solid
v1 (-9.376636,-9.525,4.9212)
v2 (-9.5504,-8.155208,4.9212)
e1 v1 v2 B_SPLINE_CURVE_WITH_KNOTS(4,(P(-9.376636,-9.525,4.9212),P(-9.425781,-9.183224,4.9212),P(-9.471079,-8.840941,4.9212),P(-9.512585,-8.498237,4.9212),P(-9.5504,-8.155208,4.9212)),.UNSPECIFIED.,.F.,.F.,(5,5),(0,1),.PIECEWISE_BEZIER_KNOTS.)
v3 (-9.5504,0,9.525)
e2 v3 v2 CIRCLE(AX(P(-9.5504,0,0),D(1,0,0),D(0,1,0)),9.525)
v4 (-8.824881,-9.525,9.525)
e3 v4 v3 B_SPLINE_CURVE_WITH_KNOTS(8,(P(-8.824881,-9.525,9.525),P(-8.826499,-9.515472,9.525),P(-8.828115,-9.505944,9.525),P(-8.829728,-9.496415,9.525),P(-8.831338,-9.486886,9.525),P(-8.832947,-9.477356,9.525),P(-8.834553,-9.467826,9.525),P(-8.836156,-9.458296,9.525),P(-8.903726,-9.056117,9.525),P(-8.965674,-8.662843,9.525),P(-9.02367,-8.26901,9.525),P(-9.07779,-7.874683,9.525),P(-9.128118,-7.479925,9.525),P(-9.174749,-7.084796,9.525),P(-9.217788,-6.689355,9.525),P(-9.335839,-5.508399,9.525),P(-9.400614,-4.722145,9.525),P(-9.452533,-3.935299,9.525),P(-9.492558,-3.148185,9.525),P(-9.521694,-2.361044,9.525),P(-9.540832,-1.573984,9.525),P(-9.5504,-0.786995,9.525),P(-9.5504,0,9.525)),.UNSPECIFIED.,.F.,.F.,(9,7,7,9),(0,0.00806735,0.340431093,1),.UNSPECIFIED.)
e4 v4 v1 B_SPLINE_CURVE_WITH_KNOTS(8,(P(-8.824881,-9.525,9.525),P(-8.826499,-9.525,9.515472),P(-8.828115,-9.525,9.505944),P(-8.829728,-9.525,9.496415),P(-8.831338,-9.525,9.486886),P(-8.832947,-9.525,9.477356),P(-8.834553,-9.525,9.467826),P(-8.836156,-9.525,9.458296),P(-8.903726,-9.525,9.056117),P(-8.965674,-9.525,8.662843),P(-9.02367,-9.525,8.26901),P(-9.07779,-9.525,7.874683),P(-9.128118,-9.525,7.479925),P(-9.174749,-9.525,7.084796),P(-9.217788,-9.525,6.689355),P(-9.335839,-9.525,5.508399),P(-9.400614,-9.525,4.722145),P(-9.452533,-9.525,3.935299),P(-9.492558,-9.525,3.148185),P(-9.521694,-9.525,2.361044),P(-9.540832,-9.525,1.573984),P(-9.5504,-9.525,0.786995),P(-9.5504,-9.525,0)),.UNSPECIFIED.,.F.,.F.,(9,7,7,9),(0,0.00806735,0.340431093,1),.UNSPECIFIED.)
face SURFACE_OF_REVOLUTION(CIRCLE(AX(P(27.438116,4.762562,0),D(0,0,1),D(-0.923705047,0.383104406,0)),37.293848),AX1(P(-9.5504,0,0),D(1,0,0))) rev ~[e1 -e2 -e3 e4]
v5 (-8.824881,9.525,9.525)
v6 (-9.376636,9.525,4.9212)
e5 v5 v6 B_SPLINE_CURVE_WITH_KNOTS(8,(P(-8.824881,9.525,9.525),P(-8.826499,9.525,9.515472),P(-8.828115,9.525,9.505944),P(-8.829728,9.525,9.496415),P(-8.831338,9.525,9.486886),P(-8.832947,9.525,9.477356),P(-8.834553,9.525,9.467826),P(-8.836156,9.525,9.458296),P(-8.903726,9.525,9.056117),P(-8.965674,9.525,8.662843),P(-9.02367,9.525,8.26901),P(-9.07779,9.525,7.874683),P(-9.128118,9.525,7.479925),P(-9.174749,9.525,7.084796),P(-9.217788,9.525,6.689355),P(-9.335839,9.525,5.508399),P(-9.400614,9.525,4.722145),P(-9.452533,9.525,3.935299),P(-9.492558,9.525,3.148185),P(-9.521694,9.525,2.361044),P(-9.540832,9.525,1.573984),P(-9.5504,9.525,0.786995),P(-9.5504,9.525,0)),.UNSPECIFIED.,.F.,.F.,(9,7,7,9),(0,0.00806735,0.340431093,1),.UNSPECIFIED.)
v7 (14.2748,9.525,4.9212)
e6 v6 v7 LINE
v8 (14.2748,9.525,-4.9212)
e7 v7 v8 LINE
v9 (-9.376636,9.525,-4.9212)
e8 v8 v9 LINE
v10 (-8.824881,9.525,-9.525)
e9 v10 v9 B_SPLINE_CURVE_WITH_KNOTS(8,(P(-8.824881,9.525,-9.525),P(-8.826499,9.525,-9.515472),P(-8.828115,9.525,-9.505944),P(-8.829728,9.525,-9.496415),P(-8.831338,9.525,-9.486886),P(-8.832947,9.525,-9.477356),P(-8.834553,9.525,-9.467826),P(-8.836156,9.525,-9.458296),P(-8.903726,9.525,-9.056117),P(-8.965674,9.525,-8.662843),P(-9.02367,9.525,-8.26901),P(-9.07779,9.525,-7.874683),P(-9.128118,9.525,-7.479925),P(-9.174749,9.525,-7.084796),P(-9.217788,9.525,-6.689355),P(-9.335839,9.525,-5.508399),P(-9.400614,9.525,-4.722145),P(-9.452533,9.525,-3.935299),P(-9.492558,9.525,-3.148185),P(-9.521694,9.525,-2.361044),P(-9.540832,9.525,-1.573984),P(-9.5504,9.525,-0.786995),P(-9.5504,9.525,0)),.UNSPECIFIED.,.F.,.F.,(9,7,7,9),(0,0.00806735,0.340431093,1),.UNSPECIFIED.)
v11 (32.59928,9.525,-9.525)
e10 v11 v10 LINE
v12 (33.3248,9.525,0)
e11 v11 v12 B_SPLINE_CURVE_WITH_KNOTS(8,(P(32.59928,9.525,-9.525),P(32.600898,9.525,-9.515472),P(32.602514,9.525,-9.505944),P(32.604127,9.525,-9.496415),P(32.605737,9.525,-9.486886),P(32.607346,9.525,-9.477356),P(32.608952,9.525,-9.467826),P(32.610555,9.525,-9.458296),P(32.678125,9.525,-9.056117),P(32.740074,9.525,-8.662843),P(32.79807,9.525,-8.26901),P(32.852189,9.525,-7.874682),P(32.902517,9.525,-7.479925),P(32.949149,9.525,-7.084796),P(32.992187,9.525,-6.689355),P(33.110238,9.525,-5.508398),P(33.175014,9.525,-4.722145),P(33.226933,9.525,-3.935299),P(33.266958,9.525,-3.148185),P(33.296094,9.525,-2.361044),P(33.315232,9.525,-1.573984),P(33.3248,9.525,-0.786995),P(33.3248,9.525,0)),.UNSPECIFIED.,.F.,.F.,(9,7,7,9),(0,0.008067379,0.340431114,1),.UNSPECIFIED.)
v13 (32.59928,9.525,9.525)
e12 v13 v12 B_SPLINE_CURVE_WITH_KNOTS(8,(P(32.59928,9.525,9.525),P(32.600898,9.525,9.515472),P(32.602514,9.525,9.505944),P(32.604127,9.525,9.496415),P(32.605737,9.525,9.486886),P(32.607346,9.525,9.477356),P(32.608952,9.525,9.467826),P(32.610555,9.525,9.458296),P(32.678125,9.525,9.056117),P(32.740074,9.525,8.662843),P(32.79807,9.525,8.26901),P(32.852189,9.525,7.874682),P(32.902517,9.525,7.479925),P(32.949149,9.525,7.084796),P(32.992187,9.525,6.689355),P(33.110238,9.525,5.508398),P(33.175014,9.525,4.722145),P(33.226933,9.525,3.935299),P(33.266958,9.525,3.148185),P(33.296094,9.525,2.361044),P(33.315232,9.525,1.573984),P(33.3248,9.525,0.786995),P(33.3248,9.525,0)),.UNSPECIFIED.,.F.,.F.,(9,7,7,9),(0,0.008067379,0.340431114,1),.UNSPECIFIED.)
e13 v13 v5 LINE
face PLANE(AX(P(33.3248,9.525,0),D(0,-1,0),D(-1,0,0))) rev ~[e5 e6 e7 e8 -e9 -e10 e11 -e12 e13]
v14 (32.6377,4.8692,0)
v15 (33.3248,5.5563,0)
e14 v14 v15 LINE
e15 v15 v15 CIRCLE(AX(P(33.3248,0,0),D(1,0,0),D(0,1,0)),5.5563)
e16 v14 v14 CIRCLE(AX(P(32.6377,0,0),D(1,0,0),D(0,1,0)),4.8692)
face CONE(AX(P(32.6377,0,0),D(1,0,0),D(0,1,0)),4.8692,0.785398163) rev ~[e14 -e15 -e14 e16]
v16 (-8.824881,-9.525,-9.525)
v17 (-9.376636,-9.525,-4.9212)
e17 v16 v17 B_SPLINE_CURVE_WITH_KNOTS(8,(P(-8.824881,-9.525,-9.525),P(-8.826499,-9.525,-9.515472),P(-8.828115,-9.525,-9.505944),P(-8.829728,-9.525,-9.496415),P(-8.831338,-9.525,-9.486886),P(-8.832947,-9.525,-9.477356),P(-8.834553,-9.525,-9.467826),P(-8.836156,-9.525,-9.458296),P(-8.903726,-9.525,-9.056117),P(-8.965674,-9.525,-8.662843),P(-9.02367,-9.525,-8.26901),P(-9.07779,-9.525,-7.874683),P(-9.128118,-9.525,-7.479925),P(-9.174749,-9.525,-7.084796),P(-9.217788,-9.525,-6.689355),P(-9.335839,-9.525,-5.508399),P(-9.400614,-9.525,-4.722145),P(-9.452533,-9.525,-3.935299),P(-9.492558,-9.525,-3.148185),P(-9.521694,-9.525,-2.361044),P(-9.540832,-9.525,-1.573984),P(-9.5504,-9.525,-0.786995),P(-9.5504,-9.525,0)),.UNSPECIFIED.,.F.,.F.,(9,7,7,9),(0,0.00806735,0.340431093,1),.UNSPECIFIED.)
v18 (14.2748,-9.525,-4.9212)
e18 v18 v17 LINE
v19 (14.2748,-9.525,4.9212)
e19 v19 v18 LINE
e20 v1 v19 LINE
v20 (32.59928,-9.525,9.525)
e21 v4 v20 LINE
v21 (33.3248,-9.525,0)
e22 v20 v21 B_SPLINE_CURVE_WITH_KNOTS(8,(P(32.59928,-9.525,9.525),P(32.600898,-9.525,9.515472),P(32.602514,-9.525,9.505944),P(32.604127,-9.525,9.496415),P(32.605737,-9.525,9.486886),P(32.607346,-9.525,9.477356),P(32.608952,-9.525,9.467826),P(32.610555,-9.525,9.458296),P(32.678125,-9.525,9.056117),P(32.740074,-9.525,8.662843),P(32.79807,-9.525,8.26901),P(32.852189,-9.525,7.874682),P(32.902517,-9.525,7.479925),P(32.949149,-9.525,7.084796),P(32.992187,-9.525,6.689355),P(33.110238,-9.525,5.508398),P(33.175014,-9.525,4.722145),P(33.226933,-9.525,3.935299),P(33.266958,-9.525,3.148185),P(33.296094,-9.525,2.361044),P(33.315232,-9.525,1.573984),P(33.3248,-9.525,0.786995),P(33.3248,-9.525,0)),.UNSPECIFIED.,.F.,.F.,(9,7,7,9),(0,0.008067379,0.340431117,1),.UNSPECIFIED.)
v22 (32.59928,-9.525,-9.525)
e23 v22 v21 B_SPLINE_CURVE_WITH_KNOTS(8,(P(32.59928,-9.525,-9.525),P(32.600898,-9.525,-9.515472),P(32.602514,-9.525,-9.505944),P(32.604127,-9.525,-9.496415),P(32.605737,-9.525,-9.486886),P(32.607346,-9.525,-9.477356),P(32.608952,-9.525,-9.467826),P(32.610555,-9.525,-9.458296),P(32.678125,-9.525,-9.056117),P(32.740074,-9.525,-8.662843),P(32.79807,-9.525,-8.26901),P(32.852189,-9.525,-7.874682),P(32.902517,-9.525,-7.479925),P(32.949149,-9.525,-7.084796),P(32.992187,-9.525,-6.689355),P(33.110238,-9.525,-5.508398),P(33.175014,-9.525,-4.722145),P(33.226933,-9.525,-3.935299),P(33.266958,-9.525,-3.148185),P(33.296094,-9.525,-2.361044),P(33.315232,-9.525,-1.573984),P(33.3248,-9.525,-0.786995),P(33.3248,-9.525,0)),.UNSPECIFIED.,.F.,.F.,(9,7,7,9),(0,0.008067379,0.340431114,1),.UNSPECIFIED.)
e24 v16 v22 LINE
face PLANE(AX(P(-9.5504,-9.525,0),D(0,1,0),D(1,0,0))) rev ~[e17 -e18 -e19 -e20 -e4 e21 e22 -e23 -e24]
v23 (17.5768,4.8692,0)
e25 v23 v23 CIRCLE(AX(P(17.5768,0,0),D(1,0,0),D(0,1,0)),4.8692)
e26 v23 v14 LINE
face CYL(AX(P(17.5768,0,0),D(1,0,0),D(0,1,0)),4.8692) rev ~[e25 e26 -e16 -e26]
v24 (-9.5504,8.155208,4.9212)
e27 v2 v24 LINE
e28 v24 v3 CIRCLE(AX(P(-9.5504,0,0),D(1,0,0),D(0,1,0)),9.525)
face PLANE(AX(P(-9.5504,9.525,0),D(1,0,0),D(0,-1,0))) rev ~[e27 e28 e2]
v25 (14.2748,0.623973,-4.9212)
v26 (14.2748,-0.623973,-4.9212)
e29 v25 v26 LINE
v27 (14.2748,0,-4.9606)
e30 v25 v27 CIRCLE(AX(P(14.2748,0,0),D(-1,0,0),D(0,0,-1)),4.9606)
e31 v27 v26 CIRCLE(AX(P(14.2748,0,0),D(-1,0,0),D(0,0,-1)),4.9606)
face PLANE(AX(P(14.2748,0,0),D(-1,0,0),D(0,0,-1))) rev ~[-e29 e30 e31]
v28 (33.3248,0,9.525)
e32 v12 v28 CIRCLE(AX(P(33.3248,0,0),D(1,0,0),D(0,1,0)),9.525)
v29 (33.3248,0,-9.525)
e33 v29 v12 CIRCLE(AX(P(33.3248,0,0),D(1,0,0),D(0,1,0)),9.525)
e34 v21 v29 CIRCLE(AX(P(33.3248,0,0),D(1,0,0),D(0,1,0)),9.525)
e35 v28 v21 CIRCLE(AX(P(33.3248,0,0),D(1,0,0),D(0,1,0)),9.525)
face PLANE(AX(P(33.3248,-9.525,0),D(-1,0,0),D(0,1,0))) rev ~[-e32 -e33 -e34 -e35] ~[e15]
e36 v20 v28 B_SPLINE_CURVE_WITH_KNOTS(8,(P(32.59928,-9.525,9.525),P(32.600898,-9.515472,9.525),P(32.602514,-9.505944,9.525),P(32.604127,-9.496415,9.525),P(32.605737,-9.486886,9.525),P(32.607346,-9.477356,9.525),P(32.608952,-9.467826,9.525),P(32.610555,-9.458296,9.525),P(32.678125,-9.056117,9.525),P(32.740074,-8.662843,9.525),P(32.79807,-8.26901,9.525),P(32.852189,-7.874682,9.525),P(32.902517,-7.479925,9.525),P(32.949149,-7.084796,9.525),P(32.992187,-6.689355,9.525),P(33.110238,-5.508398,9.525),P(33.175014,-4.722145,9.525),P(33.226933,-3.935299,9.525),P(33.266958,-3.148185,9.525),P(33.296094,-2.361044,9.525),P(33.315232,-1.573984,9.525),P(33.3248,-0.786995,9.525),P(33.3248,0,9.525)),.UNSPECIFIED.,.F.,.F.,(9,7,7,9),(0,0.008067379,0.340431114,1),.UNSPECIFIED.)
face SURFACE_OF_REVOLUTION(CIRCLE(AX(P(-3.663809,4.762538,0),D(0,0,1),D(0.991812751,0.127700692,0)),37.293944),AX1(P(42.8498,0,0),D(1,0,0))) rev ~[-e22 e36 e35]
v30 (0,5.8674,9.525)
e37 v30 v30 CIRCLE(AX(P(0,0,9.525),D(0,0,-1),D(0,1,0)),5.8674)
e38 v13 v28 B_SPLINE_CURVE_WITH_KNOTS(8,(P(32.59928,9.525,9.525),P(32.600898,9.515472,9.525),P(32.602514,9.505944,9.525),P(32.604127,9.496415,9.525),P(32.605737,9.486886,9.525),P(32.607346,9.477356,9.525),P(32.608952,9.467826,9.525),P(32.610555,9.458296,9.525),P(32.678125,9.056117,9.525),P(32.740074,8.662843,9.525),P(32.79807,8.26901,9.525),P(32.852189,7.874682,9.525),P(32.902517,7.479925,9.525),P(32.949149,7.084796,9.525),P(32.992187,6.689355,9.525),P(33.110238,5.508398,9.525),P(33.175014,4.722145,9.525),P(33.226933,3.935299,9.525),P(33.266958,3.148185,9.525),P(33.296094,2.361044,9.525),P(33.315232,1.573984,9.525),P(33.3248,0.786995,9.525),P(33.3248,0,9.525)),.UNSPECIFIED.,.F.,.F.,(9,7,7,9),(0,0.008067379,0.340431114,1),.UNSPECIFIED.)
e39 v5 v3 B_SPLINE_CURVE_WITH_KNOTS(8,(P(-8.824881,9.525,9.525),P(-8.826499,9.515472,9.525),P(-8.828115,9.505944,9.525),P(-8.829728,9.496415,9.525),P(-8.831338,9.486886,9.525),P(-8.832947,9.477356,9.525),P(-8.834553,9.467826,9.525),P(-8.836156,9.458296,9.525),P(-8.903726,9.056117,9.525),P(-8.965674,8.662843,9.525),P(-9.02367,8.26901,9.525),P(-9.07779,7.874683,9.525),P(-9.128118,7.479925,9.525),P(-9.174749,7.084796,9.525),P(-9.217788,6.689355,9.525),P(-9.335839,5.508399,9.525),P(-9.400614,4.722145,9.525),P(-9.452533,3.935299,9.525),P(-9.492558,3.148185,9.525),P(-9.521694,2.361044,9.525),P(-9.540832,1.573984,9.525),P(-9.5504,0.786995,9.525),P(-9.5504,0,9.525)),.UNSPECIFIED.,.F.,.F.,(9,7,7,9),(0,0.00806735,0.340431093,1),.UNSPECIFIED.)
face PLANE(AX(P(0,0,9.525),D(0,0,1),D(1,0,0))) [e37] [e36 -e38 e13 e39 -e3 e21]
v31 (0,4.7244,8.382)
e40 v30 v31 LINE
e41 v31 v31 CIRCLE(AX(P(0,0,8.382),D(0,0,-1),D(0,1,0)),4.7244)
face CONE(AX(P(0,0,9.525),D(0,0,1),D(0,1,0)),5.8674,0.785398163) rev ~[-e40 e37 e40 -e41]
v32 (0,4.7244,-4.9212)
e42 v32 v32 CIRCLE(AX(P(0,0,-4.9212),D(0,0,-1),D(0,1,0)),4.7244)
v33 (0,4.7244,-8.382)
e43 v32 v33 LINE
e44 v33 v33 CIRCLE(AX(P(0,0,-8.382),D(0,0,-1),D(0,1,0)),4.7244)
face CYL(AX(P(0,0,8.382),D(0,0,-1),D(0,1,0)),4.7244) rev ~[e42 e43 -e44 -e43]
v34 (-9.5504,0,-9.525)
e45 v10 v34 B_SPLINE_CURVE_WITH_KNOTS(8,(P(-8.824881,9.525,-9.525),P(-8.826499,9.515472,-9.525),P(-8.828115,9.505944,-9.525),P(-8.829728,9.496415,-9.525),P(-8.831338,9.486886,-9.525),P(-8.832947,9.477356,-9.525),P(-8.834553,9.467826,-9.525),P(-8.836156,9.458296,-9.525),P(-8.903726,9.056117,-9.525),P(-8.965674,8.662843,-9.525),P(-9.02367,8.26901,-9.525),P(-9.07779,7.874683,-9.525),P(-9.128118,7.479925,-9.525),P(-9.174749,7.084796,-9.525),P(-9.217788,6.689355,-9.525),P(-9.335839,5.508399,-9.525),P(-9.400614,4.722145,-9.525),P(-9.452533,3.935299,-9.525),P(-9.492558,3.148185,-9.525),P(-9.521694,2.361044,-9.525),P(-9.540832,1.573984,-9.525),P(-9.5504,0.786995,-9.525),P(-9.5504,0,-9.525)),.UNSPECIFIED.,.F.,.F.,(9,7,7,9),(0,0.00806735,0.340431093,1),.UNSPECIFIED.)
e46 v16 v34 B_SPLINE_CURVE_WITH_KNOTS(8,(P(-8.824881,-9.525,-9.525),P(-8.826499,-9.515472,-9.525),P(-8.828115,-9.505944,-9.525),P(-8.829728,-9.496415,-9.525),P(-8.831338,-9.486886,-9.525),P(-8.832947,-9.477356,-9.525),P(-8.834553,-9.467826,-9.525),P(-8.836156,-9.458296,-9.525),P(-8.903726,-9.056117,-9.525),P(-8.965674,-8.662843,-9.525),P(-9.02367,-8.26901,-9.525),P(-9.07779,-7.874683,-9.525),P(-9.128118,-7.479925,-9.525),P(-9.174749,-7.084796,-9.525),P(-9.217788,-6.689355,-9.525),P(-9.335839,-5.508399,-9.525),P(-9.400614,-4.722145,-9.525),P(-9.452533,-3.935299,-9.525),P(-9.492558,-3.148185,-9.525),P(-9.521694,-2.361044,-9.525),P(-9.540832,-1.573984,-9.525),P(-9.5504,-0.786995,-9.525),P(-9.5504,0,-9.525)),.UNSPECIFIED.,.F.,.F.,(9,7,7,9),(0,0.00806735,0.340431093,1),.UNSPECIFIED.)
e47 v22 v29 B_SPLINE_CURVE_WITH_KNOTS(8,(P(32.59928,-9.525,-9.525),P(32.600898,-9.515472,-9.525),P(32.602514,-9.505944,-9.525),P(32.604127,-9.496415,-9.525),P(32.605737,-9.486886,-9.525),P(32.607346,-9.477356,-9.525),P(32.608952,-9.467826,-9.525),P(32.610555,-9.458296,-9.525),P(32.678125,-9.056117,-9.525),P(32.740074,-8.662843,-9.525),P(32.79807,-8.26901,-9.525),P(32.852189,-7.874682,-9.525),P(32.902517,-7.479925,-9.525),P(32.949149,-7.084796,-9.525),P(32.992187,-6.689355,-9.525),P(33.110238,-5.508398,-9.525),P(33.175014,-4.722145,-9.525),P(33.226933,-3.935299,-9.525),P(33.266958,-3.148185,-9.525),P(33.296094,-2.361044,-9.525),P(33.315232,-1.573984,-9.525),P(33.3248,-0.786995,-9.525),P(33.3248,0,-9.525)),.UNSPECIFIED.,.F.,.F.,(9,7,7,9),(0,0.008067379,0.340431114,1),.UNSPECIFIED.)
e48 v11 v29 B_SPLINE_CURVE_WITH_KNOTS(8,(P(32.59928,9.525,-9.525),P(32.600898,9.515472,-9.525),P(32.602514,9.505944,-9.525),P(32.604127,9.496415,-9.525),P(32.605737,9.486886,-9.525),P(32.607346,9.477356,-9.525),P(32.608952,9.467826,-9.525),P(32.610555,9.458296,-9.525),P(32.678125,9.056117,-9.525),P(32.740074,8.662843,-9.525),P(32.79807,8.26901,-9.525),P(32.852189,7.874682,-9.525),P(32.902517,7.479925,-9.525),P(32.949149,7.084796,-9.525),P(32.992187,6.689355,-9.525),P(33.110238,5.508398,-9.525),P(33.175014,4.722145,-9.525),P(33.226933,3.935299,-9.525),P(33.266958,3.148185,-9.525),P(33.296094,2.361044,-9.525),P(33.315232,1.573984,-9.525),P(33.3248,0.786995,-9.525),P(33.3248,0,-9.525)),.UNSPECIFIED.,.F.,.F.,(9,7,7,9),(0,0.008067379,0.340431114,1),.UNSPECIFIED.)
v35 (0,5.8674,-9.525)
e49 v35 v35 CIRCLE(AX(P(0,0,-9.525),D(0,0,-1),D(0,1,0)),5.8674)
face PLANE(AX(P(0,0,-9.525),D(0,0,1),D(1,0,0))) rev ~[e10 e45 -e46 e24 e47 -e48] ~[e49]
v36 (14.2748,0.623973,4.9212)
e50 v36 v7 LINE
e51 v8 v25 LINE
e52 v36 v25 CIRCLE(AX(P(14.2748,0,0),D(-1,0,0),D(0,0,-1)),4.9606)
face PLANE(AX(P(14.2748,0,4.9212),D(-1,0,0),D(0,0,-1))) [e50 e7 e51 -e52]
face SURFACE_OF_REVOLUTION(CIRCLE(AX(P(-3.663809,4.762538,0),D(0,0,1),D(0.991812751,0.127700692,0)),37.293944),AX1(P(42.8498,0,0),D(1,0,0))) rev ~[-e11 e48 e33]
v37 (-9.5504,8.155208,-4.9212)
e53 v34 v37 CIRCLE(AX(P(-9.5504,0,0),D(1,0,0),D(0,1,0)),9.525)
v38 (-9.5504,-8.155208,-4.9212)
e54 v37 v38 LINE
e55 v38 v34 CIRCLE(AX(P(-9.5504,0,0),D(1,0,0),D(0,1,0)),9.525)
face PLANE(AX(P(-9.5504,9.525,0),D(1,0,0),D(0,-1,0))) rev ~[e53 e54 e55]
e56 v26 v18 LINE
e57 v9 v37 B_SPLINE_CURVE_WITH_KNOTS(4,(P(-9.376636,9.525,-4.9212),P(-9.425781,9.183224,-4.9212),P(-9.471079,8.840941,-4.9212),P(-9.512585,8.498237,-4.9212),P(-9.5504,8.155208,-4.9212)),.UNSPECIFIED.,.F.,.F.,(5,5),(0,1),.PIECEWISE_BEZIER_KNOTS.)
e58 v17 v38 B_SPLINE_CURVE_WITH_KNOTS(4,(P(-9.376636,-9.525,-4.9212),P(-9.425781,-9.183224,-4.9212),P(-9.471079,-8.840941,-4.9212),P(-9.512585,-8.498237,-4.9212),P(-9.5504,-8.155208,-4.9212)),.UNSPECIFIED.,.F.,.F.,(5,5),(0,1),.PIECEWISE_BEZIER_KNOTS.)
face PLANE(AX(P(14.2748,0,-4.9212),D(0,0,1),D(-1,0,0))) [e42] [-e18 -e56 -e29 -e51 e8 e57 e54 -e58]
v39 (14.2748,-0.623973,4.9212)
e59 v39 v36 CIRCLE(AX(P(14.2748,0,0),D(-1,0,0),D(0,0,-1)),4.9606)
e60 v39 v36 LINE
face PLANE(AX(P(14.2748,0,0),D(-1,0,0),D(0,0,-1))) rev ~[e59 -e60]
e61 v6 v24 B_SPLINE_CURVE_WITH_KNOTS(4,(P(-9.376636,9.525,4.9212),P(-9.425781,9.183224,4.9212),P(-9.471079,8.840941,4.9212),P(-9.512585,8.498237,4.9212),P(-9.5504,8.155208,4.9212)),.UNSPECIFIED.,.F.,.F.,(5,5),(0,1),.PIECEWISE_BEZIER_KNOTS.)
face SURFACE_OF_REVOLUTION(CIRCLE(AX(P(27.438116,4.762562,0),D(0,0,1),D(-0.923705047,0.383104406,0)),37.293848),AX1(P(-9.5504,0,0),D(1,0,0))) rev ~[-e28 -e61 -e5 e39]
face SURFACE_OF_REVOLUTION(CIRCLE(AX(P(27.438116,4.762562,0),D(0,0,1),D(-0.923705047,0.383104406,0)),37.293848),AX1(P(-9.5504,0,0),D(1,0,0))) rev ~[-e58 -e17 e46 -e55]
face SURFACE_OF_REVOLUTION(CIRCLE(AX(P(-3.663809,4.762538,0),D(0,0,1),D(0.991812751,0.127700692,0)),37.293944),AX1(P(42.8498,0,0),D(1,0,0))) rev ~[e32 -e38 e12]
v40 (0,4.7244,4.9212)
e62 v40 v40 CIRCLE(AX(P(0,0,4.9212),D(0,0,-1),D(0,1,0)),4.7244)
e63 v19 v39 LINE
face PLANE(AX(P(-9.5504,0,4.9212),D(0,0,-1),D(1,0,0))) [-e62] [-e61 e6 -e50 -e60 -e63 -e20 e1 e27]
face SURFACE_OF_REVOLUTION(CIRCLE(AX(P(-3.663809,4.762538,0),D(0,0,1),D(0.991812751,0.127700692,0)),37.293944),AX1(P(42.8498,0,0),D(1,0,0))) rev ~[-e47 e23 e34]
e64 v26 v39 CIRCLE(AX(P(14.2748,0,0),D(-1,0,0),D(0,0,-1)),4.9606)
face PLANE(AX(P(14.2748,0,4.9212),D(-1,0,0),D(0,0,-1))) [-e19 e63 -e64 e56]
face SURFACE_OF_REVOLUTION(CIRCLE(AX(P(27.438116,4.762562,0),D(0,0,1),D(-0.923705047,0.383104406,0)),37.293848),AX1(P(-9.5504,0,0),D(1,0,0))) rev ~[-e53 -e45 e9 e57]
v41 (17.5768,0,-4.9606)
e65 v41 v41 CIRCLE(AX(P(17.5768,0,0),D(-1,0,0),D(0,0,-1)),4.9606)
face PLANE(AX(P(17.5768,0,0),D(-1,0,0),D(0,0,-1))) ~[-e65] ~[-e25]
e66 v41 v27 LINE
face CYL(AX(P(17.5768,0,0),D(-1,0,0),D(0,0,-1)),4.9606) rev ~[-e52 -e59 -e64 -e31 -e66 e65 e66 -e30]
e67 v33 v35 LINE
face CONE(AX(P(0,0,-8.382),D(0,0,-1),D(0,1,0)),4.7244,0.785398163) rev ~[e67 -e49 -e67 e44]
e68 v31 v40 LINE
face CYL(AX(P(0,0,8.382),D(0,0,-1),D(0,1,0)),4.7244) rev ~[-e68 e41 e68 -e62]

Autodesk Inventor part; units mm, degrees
sketch "Sketch_1" plane through (0, 0, 0) normal (0, 0, 1) x (1, 0, 0)
  line L0 (-9.5504, -9.525) -> (33.3248, -9.525)
  line L1 (33.3248, -9.525) -> (33.3248, 9.525)
  line L2 (33.3248, 9.525) -> (-9.5504, 9.525)
  line L3 (-9.5504, 9.525) -> (-9.5504, -9.525)
extrude "Extrusion1" add sketch "Sketch_1" along normal mid plane 19.05
sketch "Sketch_2" plane through (0, 0, 0) normal (0, 1, 0) x (-1, 0, 0)
  line L0 (9.5504, 4.9212) -> (-14.2748, 4.9212)
  line L1 (-14.2748, 4.9212) -> (-14.2748, -4.9212)
  line L2 (-14.2748, -4.9212) -> (9.5504, -4.9212)
  line L3 (9.5504, -4.9212) -> (9.5504, 4.9212)
extrude "Extrusion2" cut sketch "Sketch_2" along normal mid plane 19.05
sketch "Sketch_3" plane through (0, 0, 0) normal (0, 0, 1) x (1, 0, 0)
  line L0 (33.3248, 0) -> (17.5768, 0)
  line L1 (17.5768, 0) -> (17.5768, 4.8692)
  line L2 (17.5768, 4.8692) -> (32.6377, 4.8692)
  line L3 (32.6377, 4.8692) -> (33.3248, 5.5563)
  line L4 (33.3248, 5.5563) -> (33.3248, 0)
  line L5 (33.3248, 0) -> (17.5768, 0)
revolve "Revolution1" cut sketch "Sketch_3" angle 360 about axis through (33.3248, 0, 0) along (1, 0, 0)
sketch "Sketch5" plane through (17.5768, 0, 0) normal (1, 0, 0) x (0, 0, -1)
  point P0 (0, 0)
hole "Hole1" at (17.5768, 0, 0) direction (-1, 0, 0) diameter 9.9212 depth 3.302
sketch "Sketch_5" plane through (0, 0, 0) normal (1, 0, 0) x (0, 1, 0)
  line L0 (0, -9.525) -> (0, 9.525)
  line L1 (0, 9.525) -> (5.8674, 9.525)
  line L2 (5.8674, 9.525) -> (4.7244, 8.382)
  line L3 (4.7244, 8.382) -> (4.7244, -8.382)
  line L4 (4.7244, -8.382) -> (5.8674, -9.525)
  line L5 (5.8674, -9.525) -> (0, -9.525)
  line L6 (0, -9.525) -> (0, 9.525)
revolve "Revolution2" cut sketch "Sketch_5" angle 360 about axis through (0, 0, -9.525) along (0, 0, -1)
sketch "Sketch_9" plane through (0, 0, 0) normal (0, 0, 1) x (1, 0, 0)
  line L0 (42.8498, 0) -> (33.3248, 0)
  line L1 (33.3248, 0) -> (33.3248, 9.525)
  arc A0 (33.3248, 9.525) -> (30.7848, 19.05) centre (-3.664, 4.7625) ccw
  line L2 (30.7848, 19.05) -> (42.8498, 19.05)
  line L3 (42.8498, 19.05) -> (42.8498, 0)
  line L4 (42.8498, 0) -> (33.3248, 0)
revolve "Revolution3" cut sketch "Sketch_9" angle 360 about axis through (42.8498, 0, 0) along (1, 0, 0)
sketch "Sketch_10" plane through (0, 0, 0) normal (0, 0, 1) x (1, 0, 0)
  line L0 (-9.5504, 0) -> (-19.0754, 0)
  line L1 (-19.0754, 0) -> (-19.0754, 19.05)
  line L2 (-19.0754, 19.05) -> (-7.0104, 19.05)
  arc A0 (-7.0104, 19.05) -> (-9.5504, 9.525) centre (27.4383, 4.7625) ccw
  line L3 (-9.5504, 9.525) -> (-9.5504, 0)
  line L4 (-9.5504, 0) -> (-19.0754, 0)
revolve "Revolution4" cut sketch "Sketch_10" angle 360 about axis through (-9.5504, 0, 0) along (1, 0, 0)
ref_plane "dummy_XY" through (0, 0, 0) normal (0, 0, 1) x (1, 0, 0)
ref_plane "dummy_YZ" through (0, 0, 0) normal (1, 0, 0) x (0, 1, 0)
ref_plane "dummy_ZX" through (0, 0, 0) normal (0, 1, 0) x (0, 0, 1)
ref_plane "h1_XY" through (-9.5504, 9.525, 0) normal (0, 0, 1) x (1, 0, 0)
ref_plane "h1_YZ" through (-9.5504, 9.525, 0) normal (1, 0, 0) x (0, 1, 0)
ref_plane "h1_ZX" through (-9.5504, 9.525, 0) normal (0, 1, 0) x (0, 0, 1)
ref_plane "h2_XY" through (-9.5504, -9.525, 0) normal (0, 0, 1) x (1, 0, 0)
ref_plane "h2_YZ" through (-9.5504, -9.525, 0) normal (1, 0, 0) x (0, 1, 0)
ref_plane "h2_ZX" through (-9.5504, -9.525, 0) normal (0, 1, 0) x (0, 0, 1)
ref_plane "l1_XY" through (33.3248, 9.525, 0) normal (0, 0, 1) x (1, 0, 0)
ref_plane "l1_YZ" through (33.3248, 9.525, 0) normal (1, 0, 0) x (0, 1, 0)
ref_plane "l1_ZX" through (33.3248, 9.525, 0) normal (0, 1, 0) x (0, 0, 1)
ref_plane "l11_XY" through (33.3248, 9.525, 0) normal (0, 0, 1) x (1, 0, 0)
ref_plane "l11_YZ" through (33.3248, 9.525, 0) normal (1, 0, 0) x (0, 1, 0)
ref_plane "l11_ZX" through (33.3248, 9.525, 0) normal (0, 1, 0) x (0, 0, 1)
ref_plane "l12_XY" through (0, 9.525, 0) normal (0, 0, 1) x (1, 0, 0)
ref_plane "l12_YZ" through (0, 9.525, 0) normal (1, 0, 0) x (0, 1, 0)
ref_plane "l12_ZX" through (0, 9.525, 0) normal (0, 1, 0) x (0, 0, 1)
ref_plane "l2_XY" through (-9.5504, 9.525, 0) normal (0, 0, 1) x (1, 0, 0)
ref_plane "l2_YZ" through (-9.5504, 9.525, 0) normal (1, 0, 0) x (0, 1, 0)
ref_plane "l2_ZX" through (-9.5504, 9.525, 0) normal (0, 1, 0) x (0, 0, 1)
ref_plane "l21_XY" through (33.3248, 0, 0) normal (0, 1, 0) x (1, 0, 0)
ref_plane "l21_YZ" through (33.3248, 0, 0) normal (1, 0, 0) x (0, 0, -1)
ref_plane "l21_ZX" through (33.3248, 0, 0) normal (0, 0, -1) x (0, 1, 0)
ref_plane "l22_XY" through (14.2748, 0, 0) normal (0, 1, 0) x (1, 0, 0)
ref_plane "l22_YZ" through (14.2748, 0, 0) normal (1, 0, 0) x (0, 0, -1)
ref_plane "l22_ZX" through (14.2748, 0, 0) normal (0, 0, -1) x (0, 1, 0)
ref_plane "piston_rod_clevis_XY" through (33.3248, 0, 0) normal (1, 0, 0) x (0, 0, -1)
ref_plane "piston_rod_clevis_YZ" through (33.3248, 0, 0) normal (0, 0, -1) x (0, 1, 0)
ref_plane "piston_rod_clevis_ZX" through (33.3248, 0, 0) normal (0, 1, 0) x (1, 0, 0)
ref_plane "rod_clevis_body_XY" through (0, 0, 0) normal (0, 0, 1) x (1, 0, 0)
ref_plane "rod_clevis_body_YZ" through (0, 0, 0) normal (1, 0, 0) x (0, 1, 0)
ref_plane "rod_clevis_body_ZX" through (0, 0, 0) normal (0, 1, 0) x (0, 0, 1)
ref_plane "th1_XY" through (33.3248, 5.5563, 0) normal (0, 0, 1) x (1, 0, 0)
ref_plane "th1_YZ" through (33.3248, 5.5563, 0) normal (1, 0, 0) x (0, 1, 0)
ref_plane "th1_ZX" through (33.3248, 5.5563, 0) normal (0, 1, 0) x (0, 0, 1)
ref_plane "th2_XY" through (33.3248, -5.5563, 0) normal (0, 0, 1) x (1, 0, 0)
ref_plane "th2_YZ" through (33.3248, -5.5563, 0) normal (1, 0, 0) x (0, 1, 0)
ref_plane "th2_ZX" through (33.3248, -5.5563, 0) normal (0, 1, 0) x (0, 0, 1)
ref_plane "to_cylinder_XY" through (14.2748, 0, 0) normal (1, 0, 0) x (0, 0, -1)
ref_plane "to_cylinder_YZ" through (14.2748, 0, 0) normal (0, 0, -1) x (0, 1, 0)
ref_plane "to_cylinder_ZX" through (14.2748, 0, 0) normal (0, 1, 0) x (1, 0, 0)
ref_plane "w1_XY" through (33.3248, 0, -9.525) normal (0, 1, 0) x (1, 0, 0)
ref_plane "w1_YZ" through (33.3248, 0, -9.525) normal (1, 0, 0) x (0, 0, -1)
ref_plane "w1_ZX" through (33.3248, 0, -9.525) normal (0, 0, -1) x (0, 1, 0)
ref_plane "w11_XY" through (-9.5504, 0, -4.9212) normal (0, 1, 0) x (1, 0, 0)
ref_plane "w11_YZ" through (-9.5504, 0, -4.9212) normal (1, 0, 0) x (0, 0, -1)
ref_plane "w11_ZX" through (-9.5504, 0, -4.9212) normal (0, 0, -1) x (0, 1, 0)
ref_plane "w12_XY" through (-9.5504, 0, 4.9212) normal (0, 1, 0) x (1, 0, 0)
ref_plane "w12_YZ" through (-9.5504, 0, 4.9212) normal (1, 0, 0) x (0, 0, -1)
ref_plane "w12_ZX" through (-9.5504, 0, 4.9212) normal (0, 0, -1) x (0, 1, 0)
ref_plane "w2_XY" through (33.3248, 0, 9.525) normal (0, 1, 0) x (1, 0, 0)
ref_plane "w2_YZ" through (33.3248, 0, 9.525) normal (1, 0, 0) x (0, 0, -1)
ref_plane "w2_ZX" through (33.3248, 0, 9.525) normal (0, 0, -1) x (0, 1, 0)
properties part number "D-14053"
